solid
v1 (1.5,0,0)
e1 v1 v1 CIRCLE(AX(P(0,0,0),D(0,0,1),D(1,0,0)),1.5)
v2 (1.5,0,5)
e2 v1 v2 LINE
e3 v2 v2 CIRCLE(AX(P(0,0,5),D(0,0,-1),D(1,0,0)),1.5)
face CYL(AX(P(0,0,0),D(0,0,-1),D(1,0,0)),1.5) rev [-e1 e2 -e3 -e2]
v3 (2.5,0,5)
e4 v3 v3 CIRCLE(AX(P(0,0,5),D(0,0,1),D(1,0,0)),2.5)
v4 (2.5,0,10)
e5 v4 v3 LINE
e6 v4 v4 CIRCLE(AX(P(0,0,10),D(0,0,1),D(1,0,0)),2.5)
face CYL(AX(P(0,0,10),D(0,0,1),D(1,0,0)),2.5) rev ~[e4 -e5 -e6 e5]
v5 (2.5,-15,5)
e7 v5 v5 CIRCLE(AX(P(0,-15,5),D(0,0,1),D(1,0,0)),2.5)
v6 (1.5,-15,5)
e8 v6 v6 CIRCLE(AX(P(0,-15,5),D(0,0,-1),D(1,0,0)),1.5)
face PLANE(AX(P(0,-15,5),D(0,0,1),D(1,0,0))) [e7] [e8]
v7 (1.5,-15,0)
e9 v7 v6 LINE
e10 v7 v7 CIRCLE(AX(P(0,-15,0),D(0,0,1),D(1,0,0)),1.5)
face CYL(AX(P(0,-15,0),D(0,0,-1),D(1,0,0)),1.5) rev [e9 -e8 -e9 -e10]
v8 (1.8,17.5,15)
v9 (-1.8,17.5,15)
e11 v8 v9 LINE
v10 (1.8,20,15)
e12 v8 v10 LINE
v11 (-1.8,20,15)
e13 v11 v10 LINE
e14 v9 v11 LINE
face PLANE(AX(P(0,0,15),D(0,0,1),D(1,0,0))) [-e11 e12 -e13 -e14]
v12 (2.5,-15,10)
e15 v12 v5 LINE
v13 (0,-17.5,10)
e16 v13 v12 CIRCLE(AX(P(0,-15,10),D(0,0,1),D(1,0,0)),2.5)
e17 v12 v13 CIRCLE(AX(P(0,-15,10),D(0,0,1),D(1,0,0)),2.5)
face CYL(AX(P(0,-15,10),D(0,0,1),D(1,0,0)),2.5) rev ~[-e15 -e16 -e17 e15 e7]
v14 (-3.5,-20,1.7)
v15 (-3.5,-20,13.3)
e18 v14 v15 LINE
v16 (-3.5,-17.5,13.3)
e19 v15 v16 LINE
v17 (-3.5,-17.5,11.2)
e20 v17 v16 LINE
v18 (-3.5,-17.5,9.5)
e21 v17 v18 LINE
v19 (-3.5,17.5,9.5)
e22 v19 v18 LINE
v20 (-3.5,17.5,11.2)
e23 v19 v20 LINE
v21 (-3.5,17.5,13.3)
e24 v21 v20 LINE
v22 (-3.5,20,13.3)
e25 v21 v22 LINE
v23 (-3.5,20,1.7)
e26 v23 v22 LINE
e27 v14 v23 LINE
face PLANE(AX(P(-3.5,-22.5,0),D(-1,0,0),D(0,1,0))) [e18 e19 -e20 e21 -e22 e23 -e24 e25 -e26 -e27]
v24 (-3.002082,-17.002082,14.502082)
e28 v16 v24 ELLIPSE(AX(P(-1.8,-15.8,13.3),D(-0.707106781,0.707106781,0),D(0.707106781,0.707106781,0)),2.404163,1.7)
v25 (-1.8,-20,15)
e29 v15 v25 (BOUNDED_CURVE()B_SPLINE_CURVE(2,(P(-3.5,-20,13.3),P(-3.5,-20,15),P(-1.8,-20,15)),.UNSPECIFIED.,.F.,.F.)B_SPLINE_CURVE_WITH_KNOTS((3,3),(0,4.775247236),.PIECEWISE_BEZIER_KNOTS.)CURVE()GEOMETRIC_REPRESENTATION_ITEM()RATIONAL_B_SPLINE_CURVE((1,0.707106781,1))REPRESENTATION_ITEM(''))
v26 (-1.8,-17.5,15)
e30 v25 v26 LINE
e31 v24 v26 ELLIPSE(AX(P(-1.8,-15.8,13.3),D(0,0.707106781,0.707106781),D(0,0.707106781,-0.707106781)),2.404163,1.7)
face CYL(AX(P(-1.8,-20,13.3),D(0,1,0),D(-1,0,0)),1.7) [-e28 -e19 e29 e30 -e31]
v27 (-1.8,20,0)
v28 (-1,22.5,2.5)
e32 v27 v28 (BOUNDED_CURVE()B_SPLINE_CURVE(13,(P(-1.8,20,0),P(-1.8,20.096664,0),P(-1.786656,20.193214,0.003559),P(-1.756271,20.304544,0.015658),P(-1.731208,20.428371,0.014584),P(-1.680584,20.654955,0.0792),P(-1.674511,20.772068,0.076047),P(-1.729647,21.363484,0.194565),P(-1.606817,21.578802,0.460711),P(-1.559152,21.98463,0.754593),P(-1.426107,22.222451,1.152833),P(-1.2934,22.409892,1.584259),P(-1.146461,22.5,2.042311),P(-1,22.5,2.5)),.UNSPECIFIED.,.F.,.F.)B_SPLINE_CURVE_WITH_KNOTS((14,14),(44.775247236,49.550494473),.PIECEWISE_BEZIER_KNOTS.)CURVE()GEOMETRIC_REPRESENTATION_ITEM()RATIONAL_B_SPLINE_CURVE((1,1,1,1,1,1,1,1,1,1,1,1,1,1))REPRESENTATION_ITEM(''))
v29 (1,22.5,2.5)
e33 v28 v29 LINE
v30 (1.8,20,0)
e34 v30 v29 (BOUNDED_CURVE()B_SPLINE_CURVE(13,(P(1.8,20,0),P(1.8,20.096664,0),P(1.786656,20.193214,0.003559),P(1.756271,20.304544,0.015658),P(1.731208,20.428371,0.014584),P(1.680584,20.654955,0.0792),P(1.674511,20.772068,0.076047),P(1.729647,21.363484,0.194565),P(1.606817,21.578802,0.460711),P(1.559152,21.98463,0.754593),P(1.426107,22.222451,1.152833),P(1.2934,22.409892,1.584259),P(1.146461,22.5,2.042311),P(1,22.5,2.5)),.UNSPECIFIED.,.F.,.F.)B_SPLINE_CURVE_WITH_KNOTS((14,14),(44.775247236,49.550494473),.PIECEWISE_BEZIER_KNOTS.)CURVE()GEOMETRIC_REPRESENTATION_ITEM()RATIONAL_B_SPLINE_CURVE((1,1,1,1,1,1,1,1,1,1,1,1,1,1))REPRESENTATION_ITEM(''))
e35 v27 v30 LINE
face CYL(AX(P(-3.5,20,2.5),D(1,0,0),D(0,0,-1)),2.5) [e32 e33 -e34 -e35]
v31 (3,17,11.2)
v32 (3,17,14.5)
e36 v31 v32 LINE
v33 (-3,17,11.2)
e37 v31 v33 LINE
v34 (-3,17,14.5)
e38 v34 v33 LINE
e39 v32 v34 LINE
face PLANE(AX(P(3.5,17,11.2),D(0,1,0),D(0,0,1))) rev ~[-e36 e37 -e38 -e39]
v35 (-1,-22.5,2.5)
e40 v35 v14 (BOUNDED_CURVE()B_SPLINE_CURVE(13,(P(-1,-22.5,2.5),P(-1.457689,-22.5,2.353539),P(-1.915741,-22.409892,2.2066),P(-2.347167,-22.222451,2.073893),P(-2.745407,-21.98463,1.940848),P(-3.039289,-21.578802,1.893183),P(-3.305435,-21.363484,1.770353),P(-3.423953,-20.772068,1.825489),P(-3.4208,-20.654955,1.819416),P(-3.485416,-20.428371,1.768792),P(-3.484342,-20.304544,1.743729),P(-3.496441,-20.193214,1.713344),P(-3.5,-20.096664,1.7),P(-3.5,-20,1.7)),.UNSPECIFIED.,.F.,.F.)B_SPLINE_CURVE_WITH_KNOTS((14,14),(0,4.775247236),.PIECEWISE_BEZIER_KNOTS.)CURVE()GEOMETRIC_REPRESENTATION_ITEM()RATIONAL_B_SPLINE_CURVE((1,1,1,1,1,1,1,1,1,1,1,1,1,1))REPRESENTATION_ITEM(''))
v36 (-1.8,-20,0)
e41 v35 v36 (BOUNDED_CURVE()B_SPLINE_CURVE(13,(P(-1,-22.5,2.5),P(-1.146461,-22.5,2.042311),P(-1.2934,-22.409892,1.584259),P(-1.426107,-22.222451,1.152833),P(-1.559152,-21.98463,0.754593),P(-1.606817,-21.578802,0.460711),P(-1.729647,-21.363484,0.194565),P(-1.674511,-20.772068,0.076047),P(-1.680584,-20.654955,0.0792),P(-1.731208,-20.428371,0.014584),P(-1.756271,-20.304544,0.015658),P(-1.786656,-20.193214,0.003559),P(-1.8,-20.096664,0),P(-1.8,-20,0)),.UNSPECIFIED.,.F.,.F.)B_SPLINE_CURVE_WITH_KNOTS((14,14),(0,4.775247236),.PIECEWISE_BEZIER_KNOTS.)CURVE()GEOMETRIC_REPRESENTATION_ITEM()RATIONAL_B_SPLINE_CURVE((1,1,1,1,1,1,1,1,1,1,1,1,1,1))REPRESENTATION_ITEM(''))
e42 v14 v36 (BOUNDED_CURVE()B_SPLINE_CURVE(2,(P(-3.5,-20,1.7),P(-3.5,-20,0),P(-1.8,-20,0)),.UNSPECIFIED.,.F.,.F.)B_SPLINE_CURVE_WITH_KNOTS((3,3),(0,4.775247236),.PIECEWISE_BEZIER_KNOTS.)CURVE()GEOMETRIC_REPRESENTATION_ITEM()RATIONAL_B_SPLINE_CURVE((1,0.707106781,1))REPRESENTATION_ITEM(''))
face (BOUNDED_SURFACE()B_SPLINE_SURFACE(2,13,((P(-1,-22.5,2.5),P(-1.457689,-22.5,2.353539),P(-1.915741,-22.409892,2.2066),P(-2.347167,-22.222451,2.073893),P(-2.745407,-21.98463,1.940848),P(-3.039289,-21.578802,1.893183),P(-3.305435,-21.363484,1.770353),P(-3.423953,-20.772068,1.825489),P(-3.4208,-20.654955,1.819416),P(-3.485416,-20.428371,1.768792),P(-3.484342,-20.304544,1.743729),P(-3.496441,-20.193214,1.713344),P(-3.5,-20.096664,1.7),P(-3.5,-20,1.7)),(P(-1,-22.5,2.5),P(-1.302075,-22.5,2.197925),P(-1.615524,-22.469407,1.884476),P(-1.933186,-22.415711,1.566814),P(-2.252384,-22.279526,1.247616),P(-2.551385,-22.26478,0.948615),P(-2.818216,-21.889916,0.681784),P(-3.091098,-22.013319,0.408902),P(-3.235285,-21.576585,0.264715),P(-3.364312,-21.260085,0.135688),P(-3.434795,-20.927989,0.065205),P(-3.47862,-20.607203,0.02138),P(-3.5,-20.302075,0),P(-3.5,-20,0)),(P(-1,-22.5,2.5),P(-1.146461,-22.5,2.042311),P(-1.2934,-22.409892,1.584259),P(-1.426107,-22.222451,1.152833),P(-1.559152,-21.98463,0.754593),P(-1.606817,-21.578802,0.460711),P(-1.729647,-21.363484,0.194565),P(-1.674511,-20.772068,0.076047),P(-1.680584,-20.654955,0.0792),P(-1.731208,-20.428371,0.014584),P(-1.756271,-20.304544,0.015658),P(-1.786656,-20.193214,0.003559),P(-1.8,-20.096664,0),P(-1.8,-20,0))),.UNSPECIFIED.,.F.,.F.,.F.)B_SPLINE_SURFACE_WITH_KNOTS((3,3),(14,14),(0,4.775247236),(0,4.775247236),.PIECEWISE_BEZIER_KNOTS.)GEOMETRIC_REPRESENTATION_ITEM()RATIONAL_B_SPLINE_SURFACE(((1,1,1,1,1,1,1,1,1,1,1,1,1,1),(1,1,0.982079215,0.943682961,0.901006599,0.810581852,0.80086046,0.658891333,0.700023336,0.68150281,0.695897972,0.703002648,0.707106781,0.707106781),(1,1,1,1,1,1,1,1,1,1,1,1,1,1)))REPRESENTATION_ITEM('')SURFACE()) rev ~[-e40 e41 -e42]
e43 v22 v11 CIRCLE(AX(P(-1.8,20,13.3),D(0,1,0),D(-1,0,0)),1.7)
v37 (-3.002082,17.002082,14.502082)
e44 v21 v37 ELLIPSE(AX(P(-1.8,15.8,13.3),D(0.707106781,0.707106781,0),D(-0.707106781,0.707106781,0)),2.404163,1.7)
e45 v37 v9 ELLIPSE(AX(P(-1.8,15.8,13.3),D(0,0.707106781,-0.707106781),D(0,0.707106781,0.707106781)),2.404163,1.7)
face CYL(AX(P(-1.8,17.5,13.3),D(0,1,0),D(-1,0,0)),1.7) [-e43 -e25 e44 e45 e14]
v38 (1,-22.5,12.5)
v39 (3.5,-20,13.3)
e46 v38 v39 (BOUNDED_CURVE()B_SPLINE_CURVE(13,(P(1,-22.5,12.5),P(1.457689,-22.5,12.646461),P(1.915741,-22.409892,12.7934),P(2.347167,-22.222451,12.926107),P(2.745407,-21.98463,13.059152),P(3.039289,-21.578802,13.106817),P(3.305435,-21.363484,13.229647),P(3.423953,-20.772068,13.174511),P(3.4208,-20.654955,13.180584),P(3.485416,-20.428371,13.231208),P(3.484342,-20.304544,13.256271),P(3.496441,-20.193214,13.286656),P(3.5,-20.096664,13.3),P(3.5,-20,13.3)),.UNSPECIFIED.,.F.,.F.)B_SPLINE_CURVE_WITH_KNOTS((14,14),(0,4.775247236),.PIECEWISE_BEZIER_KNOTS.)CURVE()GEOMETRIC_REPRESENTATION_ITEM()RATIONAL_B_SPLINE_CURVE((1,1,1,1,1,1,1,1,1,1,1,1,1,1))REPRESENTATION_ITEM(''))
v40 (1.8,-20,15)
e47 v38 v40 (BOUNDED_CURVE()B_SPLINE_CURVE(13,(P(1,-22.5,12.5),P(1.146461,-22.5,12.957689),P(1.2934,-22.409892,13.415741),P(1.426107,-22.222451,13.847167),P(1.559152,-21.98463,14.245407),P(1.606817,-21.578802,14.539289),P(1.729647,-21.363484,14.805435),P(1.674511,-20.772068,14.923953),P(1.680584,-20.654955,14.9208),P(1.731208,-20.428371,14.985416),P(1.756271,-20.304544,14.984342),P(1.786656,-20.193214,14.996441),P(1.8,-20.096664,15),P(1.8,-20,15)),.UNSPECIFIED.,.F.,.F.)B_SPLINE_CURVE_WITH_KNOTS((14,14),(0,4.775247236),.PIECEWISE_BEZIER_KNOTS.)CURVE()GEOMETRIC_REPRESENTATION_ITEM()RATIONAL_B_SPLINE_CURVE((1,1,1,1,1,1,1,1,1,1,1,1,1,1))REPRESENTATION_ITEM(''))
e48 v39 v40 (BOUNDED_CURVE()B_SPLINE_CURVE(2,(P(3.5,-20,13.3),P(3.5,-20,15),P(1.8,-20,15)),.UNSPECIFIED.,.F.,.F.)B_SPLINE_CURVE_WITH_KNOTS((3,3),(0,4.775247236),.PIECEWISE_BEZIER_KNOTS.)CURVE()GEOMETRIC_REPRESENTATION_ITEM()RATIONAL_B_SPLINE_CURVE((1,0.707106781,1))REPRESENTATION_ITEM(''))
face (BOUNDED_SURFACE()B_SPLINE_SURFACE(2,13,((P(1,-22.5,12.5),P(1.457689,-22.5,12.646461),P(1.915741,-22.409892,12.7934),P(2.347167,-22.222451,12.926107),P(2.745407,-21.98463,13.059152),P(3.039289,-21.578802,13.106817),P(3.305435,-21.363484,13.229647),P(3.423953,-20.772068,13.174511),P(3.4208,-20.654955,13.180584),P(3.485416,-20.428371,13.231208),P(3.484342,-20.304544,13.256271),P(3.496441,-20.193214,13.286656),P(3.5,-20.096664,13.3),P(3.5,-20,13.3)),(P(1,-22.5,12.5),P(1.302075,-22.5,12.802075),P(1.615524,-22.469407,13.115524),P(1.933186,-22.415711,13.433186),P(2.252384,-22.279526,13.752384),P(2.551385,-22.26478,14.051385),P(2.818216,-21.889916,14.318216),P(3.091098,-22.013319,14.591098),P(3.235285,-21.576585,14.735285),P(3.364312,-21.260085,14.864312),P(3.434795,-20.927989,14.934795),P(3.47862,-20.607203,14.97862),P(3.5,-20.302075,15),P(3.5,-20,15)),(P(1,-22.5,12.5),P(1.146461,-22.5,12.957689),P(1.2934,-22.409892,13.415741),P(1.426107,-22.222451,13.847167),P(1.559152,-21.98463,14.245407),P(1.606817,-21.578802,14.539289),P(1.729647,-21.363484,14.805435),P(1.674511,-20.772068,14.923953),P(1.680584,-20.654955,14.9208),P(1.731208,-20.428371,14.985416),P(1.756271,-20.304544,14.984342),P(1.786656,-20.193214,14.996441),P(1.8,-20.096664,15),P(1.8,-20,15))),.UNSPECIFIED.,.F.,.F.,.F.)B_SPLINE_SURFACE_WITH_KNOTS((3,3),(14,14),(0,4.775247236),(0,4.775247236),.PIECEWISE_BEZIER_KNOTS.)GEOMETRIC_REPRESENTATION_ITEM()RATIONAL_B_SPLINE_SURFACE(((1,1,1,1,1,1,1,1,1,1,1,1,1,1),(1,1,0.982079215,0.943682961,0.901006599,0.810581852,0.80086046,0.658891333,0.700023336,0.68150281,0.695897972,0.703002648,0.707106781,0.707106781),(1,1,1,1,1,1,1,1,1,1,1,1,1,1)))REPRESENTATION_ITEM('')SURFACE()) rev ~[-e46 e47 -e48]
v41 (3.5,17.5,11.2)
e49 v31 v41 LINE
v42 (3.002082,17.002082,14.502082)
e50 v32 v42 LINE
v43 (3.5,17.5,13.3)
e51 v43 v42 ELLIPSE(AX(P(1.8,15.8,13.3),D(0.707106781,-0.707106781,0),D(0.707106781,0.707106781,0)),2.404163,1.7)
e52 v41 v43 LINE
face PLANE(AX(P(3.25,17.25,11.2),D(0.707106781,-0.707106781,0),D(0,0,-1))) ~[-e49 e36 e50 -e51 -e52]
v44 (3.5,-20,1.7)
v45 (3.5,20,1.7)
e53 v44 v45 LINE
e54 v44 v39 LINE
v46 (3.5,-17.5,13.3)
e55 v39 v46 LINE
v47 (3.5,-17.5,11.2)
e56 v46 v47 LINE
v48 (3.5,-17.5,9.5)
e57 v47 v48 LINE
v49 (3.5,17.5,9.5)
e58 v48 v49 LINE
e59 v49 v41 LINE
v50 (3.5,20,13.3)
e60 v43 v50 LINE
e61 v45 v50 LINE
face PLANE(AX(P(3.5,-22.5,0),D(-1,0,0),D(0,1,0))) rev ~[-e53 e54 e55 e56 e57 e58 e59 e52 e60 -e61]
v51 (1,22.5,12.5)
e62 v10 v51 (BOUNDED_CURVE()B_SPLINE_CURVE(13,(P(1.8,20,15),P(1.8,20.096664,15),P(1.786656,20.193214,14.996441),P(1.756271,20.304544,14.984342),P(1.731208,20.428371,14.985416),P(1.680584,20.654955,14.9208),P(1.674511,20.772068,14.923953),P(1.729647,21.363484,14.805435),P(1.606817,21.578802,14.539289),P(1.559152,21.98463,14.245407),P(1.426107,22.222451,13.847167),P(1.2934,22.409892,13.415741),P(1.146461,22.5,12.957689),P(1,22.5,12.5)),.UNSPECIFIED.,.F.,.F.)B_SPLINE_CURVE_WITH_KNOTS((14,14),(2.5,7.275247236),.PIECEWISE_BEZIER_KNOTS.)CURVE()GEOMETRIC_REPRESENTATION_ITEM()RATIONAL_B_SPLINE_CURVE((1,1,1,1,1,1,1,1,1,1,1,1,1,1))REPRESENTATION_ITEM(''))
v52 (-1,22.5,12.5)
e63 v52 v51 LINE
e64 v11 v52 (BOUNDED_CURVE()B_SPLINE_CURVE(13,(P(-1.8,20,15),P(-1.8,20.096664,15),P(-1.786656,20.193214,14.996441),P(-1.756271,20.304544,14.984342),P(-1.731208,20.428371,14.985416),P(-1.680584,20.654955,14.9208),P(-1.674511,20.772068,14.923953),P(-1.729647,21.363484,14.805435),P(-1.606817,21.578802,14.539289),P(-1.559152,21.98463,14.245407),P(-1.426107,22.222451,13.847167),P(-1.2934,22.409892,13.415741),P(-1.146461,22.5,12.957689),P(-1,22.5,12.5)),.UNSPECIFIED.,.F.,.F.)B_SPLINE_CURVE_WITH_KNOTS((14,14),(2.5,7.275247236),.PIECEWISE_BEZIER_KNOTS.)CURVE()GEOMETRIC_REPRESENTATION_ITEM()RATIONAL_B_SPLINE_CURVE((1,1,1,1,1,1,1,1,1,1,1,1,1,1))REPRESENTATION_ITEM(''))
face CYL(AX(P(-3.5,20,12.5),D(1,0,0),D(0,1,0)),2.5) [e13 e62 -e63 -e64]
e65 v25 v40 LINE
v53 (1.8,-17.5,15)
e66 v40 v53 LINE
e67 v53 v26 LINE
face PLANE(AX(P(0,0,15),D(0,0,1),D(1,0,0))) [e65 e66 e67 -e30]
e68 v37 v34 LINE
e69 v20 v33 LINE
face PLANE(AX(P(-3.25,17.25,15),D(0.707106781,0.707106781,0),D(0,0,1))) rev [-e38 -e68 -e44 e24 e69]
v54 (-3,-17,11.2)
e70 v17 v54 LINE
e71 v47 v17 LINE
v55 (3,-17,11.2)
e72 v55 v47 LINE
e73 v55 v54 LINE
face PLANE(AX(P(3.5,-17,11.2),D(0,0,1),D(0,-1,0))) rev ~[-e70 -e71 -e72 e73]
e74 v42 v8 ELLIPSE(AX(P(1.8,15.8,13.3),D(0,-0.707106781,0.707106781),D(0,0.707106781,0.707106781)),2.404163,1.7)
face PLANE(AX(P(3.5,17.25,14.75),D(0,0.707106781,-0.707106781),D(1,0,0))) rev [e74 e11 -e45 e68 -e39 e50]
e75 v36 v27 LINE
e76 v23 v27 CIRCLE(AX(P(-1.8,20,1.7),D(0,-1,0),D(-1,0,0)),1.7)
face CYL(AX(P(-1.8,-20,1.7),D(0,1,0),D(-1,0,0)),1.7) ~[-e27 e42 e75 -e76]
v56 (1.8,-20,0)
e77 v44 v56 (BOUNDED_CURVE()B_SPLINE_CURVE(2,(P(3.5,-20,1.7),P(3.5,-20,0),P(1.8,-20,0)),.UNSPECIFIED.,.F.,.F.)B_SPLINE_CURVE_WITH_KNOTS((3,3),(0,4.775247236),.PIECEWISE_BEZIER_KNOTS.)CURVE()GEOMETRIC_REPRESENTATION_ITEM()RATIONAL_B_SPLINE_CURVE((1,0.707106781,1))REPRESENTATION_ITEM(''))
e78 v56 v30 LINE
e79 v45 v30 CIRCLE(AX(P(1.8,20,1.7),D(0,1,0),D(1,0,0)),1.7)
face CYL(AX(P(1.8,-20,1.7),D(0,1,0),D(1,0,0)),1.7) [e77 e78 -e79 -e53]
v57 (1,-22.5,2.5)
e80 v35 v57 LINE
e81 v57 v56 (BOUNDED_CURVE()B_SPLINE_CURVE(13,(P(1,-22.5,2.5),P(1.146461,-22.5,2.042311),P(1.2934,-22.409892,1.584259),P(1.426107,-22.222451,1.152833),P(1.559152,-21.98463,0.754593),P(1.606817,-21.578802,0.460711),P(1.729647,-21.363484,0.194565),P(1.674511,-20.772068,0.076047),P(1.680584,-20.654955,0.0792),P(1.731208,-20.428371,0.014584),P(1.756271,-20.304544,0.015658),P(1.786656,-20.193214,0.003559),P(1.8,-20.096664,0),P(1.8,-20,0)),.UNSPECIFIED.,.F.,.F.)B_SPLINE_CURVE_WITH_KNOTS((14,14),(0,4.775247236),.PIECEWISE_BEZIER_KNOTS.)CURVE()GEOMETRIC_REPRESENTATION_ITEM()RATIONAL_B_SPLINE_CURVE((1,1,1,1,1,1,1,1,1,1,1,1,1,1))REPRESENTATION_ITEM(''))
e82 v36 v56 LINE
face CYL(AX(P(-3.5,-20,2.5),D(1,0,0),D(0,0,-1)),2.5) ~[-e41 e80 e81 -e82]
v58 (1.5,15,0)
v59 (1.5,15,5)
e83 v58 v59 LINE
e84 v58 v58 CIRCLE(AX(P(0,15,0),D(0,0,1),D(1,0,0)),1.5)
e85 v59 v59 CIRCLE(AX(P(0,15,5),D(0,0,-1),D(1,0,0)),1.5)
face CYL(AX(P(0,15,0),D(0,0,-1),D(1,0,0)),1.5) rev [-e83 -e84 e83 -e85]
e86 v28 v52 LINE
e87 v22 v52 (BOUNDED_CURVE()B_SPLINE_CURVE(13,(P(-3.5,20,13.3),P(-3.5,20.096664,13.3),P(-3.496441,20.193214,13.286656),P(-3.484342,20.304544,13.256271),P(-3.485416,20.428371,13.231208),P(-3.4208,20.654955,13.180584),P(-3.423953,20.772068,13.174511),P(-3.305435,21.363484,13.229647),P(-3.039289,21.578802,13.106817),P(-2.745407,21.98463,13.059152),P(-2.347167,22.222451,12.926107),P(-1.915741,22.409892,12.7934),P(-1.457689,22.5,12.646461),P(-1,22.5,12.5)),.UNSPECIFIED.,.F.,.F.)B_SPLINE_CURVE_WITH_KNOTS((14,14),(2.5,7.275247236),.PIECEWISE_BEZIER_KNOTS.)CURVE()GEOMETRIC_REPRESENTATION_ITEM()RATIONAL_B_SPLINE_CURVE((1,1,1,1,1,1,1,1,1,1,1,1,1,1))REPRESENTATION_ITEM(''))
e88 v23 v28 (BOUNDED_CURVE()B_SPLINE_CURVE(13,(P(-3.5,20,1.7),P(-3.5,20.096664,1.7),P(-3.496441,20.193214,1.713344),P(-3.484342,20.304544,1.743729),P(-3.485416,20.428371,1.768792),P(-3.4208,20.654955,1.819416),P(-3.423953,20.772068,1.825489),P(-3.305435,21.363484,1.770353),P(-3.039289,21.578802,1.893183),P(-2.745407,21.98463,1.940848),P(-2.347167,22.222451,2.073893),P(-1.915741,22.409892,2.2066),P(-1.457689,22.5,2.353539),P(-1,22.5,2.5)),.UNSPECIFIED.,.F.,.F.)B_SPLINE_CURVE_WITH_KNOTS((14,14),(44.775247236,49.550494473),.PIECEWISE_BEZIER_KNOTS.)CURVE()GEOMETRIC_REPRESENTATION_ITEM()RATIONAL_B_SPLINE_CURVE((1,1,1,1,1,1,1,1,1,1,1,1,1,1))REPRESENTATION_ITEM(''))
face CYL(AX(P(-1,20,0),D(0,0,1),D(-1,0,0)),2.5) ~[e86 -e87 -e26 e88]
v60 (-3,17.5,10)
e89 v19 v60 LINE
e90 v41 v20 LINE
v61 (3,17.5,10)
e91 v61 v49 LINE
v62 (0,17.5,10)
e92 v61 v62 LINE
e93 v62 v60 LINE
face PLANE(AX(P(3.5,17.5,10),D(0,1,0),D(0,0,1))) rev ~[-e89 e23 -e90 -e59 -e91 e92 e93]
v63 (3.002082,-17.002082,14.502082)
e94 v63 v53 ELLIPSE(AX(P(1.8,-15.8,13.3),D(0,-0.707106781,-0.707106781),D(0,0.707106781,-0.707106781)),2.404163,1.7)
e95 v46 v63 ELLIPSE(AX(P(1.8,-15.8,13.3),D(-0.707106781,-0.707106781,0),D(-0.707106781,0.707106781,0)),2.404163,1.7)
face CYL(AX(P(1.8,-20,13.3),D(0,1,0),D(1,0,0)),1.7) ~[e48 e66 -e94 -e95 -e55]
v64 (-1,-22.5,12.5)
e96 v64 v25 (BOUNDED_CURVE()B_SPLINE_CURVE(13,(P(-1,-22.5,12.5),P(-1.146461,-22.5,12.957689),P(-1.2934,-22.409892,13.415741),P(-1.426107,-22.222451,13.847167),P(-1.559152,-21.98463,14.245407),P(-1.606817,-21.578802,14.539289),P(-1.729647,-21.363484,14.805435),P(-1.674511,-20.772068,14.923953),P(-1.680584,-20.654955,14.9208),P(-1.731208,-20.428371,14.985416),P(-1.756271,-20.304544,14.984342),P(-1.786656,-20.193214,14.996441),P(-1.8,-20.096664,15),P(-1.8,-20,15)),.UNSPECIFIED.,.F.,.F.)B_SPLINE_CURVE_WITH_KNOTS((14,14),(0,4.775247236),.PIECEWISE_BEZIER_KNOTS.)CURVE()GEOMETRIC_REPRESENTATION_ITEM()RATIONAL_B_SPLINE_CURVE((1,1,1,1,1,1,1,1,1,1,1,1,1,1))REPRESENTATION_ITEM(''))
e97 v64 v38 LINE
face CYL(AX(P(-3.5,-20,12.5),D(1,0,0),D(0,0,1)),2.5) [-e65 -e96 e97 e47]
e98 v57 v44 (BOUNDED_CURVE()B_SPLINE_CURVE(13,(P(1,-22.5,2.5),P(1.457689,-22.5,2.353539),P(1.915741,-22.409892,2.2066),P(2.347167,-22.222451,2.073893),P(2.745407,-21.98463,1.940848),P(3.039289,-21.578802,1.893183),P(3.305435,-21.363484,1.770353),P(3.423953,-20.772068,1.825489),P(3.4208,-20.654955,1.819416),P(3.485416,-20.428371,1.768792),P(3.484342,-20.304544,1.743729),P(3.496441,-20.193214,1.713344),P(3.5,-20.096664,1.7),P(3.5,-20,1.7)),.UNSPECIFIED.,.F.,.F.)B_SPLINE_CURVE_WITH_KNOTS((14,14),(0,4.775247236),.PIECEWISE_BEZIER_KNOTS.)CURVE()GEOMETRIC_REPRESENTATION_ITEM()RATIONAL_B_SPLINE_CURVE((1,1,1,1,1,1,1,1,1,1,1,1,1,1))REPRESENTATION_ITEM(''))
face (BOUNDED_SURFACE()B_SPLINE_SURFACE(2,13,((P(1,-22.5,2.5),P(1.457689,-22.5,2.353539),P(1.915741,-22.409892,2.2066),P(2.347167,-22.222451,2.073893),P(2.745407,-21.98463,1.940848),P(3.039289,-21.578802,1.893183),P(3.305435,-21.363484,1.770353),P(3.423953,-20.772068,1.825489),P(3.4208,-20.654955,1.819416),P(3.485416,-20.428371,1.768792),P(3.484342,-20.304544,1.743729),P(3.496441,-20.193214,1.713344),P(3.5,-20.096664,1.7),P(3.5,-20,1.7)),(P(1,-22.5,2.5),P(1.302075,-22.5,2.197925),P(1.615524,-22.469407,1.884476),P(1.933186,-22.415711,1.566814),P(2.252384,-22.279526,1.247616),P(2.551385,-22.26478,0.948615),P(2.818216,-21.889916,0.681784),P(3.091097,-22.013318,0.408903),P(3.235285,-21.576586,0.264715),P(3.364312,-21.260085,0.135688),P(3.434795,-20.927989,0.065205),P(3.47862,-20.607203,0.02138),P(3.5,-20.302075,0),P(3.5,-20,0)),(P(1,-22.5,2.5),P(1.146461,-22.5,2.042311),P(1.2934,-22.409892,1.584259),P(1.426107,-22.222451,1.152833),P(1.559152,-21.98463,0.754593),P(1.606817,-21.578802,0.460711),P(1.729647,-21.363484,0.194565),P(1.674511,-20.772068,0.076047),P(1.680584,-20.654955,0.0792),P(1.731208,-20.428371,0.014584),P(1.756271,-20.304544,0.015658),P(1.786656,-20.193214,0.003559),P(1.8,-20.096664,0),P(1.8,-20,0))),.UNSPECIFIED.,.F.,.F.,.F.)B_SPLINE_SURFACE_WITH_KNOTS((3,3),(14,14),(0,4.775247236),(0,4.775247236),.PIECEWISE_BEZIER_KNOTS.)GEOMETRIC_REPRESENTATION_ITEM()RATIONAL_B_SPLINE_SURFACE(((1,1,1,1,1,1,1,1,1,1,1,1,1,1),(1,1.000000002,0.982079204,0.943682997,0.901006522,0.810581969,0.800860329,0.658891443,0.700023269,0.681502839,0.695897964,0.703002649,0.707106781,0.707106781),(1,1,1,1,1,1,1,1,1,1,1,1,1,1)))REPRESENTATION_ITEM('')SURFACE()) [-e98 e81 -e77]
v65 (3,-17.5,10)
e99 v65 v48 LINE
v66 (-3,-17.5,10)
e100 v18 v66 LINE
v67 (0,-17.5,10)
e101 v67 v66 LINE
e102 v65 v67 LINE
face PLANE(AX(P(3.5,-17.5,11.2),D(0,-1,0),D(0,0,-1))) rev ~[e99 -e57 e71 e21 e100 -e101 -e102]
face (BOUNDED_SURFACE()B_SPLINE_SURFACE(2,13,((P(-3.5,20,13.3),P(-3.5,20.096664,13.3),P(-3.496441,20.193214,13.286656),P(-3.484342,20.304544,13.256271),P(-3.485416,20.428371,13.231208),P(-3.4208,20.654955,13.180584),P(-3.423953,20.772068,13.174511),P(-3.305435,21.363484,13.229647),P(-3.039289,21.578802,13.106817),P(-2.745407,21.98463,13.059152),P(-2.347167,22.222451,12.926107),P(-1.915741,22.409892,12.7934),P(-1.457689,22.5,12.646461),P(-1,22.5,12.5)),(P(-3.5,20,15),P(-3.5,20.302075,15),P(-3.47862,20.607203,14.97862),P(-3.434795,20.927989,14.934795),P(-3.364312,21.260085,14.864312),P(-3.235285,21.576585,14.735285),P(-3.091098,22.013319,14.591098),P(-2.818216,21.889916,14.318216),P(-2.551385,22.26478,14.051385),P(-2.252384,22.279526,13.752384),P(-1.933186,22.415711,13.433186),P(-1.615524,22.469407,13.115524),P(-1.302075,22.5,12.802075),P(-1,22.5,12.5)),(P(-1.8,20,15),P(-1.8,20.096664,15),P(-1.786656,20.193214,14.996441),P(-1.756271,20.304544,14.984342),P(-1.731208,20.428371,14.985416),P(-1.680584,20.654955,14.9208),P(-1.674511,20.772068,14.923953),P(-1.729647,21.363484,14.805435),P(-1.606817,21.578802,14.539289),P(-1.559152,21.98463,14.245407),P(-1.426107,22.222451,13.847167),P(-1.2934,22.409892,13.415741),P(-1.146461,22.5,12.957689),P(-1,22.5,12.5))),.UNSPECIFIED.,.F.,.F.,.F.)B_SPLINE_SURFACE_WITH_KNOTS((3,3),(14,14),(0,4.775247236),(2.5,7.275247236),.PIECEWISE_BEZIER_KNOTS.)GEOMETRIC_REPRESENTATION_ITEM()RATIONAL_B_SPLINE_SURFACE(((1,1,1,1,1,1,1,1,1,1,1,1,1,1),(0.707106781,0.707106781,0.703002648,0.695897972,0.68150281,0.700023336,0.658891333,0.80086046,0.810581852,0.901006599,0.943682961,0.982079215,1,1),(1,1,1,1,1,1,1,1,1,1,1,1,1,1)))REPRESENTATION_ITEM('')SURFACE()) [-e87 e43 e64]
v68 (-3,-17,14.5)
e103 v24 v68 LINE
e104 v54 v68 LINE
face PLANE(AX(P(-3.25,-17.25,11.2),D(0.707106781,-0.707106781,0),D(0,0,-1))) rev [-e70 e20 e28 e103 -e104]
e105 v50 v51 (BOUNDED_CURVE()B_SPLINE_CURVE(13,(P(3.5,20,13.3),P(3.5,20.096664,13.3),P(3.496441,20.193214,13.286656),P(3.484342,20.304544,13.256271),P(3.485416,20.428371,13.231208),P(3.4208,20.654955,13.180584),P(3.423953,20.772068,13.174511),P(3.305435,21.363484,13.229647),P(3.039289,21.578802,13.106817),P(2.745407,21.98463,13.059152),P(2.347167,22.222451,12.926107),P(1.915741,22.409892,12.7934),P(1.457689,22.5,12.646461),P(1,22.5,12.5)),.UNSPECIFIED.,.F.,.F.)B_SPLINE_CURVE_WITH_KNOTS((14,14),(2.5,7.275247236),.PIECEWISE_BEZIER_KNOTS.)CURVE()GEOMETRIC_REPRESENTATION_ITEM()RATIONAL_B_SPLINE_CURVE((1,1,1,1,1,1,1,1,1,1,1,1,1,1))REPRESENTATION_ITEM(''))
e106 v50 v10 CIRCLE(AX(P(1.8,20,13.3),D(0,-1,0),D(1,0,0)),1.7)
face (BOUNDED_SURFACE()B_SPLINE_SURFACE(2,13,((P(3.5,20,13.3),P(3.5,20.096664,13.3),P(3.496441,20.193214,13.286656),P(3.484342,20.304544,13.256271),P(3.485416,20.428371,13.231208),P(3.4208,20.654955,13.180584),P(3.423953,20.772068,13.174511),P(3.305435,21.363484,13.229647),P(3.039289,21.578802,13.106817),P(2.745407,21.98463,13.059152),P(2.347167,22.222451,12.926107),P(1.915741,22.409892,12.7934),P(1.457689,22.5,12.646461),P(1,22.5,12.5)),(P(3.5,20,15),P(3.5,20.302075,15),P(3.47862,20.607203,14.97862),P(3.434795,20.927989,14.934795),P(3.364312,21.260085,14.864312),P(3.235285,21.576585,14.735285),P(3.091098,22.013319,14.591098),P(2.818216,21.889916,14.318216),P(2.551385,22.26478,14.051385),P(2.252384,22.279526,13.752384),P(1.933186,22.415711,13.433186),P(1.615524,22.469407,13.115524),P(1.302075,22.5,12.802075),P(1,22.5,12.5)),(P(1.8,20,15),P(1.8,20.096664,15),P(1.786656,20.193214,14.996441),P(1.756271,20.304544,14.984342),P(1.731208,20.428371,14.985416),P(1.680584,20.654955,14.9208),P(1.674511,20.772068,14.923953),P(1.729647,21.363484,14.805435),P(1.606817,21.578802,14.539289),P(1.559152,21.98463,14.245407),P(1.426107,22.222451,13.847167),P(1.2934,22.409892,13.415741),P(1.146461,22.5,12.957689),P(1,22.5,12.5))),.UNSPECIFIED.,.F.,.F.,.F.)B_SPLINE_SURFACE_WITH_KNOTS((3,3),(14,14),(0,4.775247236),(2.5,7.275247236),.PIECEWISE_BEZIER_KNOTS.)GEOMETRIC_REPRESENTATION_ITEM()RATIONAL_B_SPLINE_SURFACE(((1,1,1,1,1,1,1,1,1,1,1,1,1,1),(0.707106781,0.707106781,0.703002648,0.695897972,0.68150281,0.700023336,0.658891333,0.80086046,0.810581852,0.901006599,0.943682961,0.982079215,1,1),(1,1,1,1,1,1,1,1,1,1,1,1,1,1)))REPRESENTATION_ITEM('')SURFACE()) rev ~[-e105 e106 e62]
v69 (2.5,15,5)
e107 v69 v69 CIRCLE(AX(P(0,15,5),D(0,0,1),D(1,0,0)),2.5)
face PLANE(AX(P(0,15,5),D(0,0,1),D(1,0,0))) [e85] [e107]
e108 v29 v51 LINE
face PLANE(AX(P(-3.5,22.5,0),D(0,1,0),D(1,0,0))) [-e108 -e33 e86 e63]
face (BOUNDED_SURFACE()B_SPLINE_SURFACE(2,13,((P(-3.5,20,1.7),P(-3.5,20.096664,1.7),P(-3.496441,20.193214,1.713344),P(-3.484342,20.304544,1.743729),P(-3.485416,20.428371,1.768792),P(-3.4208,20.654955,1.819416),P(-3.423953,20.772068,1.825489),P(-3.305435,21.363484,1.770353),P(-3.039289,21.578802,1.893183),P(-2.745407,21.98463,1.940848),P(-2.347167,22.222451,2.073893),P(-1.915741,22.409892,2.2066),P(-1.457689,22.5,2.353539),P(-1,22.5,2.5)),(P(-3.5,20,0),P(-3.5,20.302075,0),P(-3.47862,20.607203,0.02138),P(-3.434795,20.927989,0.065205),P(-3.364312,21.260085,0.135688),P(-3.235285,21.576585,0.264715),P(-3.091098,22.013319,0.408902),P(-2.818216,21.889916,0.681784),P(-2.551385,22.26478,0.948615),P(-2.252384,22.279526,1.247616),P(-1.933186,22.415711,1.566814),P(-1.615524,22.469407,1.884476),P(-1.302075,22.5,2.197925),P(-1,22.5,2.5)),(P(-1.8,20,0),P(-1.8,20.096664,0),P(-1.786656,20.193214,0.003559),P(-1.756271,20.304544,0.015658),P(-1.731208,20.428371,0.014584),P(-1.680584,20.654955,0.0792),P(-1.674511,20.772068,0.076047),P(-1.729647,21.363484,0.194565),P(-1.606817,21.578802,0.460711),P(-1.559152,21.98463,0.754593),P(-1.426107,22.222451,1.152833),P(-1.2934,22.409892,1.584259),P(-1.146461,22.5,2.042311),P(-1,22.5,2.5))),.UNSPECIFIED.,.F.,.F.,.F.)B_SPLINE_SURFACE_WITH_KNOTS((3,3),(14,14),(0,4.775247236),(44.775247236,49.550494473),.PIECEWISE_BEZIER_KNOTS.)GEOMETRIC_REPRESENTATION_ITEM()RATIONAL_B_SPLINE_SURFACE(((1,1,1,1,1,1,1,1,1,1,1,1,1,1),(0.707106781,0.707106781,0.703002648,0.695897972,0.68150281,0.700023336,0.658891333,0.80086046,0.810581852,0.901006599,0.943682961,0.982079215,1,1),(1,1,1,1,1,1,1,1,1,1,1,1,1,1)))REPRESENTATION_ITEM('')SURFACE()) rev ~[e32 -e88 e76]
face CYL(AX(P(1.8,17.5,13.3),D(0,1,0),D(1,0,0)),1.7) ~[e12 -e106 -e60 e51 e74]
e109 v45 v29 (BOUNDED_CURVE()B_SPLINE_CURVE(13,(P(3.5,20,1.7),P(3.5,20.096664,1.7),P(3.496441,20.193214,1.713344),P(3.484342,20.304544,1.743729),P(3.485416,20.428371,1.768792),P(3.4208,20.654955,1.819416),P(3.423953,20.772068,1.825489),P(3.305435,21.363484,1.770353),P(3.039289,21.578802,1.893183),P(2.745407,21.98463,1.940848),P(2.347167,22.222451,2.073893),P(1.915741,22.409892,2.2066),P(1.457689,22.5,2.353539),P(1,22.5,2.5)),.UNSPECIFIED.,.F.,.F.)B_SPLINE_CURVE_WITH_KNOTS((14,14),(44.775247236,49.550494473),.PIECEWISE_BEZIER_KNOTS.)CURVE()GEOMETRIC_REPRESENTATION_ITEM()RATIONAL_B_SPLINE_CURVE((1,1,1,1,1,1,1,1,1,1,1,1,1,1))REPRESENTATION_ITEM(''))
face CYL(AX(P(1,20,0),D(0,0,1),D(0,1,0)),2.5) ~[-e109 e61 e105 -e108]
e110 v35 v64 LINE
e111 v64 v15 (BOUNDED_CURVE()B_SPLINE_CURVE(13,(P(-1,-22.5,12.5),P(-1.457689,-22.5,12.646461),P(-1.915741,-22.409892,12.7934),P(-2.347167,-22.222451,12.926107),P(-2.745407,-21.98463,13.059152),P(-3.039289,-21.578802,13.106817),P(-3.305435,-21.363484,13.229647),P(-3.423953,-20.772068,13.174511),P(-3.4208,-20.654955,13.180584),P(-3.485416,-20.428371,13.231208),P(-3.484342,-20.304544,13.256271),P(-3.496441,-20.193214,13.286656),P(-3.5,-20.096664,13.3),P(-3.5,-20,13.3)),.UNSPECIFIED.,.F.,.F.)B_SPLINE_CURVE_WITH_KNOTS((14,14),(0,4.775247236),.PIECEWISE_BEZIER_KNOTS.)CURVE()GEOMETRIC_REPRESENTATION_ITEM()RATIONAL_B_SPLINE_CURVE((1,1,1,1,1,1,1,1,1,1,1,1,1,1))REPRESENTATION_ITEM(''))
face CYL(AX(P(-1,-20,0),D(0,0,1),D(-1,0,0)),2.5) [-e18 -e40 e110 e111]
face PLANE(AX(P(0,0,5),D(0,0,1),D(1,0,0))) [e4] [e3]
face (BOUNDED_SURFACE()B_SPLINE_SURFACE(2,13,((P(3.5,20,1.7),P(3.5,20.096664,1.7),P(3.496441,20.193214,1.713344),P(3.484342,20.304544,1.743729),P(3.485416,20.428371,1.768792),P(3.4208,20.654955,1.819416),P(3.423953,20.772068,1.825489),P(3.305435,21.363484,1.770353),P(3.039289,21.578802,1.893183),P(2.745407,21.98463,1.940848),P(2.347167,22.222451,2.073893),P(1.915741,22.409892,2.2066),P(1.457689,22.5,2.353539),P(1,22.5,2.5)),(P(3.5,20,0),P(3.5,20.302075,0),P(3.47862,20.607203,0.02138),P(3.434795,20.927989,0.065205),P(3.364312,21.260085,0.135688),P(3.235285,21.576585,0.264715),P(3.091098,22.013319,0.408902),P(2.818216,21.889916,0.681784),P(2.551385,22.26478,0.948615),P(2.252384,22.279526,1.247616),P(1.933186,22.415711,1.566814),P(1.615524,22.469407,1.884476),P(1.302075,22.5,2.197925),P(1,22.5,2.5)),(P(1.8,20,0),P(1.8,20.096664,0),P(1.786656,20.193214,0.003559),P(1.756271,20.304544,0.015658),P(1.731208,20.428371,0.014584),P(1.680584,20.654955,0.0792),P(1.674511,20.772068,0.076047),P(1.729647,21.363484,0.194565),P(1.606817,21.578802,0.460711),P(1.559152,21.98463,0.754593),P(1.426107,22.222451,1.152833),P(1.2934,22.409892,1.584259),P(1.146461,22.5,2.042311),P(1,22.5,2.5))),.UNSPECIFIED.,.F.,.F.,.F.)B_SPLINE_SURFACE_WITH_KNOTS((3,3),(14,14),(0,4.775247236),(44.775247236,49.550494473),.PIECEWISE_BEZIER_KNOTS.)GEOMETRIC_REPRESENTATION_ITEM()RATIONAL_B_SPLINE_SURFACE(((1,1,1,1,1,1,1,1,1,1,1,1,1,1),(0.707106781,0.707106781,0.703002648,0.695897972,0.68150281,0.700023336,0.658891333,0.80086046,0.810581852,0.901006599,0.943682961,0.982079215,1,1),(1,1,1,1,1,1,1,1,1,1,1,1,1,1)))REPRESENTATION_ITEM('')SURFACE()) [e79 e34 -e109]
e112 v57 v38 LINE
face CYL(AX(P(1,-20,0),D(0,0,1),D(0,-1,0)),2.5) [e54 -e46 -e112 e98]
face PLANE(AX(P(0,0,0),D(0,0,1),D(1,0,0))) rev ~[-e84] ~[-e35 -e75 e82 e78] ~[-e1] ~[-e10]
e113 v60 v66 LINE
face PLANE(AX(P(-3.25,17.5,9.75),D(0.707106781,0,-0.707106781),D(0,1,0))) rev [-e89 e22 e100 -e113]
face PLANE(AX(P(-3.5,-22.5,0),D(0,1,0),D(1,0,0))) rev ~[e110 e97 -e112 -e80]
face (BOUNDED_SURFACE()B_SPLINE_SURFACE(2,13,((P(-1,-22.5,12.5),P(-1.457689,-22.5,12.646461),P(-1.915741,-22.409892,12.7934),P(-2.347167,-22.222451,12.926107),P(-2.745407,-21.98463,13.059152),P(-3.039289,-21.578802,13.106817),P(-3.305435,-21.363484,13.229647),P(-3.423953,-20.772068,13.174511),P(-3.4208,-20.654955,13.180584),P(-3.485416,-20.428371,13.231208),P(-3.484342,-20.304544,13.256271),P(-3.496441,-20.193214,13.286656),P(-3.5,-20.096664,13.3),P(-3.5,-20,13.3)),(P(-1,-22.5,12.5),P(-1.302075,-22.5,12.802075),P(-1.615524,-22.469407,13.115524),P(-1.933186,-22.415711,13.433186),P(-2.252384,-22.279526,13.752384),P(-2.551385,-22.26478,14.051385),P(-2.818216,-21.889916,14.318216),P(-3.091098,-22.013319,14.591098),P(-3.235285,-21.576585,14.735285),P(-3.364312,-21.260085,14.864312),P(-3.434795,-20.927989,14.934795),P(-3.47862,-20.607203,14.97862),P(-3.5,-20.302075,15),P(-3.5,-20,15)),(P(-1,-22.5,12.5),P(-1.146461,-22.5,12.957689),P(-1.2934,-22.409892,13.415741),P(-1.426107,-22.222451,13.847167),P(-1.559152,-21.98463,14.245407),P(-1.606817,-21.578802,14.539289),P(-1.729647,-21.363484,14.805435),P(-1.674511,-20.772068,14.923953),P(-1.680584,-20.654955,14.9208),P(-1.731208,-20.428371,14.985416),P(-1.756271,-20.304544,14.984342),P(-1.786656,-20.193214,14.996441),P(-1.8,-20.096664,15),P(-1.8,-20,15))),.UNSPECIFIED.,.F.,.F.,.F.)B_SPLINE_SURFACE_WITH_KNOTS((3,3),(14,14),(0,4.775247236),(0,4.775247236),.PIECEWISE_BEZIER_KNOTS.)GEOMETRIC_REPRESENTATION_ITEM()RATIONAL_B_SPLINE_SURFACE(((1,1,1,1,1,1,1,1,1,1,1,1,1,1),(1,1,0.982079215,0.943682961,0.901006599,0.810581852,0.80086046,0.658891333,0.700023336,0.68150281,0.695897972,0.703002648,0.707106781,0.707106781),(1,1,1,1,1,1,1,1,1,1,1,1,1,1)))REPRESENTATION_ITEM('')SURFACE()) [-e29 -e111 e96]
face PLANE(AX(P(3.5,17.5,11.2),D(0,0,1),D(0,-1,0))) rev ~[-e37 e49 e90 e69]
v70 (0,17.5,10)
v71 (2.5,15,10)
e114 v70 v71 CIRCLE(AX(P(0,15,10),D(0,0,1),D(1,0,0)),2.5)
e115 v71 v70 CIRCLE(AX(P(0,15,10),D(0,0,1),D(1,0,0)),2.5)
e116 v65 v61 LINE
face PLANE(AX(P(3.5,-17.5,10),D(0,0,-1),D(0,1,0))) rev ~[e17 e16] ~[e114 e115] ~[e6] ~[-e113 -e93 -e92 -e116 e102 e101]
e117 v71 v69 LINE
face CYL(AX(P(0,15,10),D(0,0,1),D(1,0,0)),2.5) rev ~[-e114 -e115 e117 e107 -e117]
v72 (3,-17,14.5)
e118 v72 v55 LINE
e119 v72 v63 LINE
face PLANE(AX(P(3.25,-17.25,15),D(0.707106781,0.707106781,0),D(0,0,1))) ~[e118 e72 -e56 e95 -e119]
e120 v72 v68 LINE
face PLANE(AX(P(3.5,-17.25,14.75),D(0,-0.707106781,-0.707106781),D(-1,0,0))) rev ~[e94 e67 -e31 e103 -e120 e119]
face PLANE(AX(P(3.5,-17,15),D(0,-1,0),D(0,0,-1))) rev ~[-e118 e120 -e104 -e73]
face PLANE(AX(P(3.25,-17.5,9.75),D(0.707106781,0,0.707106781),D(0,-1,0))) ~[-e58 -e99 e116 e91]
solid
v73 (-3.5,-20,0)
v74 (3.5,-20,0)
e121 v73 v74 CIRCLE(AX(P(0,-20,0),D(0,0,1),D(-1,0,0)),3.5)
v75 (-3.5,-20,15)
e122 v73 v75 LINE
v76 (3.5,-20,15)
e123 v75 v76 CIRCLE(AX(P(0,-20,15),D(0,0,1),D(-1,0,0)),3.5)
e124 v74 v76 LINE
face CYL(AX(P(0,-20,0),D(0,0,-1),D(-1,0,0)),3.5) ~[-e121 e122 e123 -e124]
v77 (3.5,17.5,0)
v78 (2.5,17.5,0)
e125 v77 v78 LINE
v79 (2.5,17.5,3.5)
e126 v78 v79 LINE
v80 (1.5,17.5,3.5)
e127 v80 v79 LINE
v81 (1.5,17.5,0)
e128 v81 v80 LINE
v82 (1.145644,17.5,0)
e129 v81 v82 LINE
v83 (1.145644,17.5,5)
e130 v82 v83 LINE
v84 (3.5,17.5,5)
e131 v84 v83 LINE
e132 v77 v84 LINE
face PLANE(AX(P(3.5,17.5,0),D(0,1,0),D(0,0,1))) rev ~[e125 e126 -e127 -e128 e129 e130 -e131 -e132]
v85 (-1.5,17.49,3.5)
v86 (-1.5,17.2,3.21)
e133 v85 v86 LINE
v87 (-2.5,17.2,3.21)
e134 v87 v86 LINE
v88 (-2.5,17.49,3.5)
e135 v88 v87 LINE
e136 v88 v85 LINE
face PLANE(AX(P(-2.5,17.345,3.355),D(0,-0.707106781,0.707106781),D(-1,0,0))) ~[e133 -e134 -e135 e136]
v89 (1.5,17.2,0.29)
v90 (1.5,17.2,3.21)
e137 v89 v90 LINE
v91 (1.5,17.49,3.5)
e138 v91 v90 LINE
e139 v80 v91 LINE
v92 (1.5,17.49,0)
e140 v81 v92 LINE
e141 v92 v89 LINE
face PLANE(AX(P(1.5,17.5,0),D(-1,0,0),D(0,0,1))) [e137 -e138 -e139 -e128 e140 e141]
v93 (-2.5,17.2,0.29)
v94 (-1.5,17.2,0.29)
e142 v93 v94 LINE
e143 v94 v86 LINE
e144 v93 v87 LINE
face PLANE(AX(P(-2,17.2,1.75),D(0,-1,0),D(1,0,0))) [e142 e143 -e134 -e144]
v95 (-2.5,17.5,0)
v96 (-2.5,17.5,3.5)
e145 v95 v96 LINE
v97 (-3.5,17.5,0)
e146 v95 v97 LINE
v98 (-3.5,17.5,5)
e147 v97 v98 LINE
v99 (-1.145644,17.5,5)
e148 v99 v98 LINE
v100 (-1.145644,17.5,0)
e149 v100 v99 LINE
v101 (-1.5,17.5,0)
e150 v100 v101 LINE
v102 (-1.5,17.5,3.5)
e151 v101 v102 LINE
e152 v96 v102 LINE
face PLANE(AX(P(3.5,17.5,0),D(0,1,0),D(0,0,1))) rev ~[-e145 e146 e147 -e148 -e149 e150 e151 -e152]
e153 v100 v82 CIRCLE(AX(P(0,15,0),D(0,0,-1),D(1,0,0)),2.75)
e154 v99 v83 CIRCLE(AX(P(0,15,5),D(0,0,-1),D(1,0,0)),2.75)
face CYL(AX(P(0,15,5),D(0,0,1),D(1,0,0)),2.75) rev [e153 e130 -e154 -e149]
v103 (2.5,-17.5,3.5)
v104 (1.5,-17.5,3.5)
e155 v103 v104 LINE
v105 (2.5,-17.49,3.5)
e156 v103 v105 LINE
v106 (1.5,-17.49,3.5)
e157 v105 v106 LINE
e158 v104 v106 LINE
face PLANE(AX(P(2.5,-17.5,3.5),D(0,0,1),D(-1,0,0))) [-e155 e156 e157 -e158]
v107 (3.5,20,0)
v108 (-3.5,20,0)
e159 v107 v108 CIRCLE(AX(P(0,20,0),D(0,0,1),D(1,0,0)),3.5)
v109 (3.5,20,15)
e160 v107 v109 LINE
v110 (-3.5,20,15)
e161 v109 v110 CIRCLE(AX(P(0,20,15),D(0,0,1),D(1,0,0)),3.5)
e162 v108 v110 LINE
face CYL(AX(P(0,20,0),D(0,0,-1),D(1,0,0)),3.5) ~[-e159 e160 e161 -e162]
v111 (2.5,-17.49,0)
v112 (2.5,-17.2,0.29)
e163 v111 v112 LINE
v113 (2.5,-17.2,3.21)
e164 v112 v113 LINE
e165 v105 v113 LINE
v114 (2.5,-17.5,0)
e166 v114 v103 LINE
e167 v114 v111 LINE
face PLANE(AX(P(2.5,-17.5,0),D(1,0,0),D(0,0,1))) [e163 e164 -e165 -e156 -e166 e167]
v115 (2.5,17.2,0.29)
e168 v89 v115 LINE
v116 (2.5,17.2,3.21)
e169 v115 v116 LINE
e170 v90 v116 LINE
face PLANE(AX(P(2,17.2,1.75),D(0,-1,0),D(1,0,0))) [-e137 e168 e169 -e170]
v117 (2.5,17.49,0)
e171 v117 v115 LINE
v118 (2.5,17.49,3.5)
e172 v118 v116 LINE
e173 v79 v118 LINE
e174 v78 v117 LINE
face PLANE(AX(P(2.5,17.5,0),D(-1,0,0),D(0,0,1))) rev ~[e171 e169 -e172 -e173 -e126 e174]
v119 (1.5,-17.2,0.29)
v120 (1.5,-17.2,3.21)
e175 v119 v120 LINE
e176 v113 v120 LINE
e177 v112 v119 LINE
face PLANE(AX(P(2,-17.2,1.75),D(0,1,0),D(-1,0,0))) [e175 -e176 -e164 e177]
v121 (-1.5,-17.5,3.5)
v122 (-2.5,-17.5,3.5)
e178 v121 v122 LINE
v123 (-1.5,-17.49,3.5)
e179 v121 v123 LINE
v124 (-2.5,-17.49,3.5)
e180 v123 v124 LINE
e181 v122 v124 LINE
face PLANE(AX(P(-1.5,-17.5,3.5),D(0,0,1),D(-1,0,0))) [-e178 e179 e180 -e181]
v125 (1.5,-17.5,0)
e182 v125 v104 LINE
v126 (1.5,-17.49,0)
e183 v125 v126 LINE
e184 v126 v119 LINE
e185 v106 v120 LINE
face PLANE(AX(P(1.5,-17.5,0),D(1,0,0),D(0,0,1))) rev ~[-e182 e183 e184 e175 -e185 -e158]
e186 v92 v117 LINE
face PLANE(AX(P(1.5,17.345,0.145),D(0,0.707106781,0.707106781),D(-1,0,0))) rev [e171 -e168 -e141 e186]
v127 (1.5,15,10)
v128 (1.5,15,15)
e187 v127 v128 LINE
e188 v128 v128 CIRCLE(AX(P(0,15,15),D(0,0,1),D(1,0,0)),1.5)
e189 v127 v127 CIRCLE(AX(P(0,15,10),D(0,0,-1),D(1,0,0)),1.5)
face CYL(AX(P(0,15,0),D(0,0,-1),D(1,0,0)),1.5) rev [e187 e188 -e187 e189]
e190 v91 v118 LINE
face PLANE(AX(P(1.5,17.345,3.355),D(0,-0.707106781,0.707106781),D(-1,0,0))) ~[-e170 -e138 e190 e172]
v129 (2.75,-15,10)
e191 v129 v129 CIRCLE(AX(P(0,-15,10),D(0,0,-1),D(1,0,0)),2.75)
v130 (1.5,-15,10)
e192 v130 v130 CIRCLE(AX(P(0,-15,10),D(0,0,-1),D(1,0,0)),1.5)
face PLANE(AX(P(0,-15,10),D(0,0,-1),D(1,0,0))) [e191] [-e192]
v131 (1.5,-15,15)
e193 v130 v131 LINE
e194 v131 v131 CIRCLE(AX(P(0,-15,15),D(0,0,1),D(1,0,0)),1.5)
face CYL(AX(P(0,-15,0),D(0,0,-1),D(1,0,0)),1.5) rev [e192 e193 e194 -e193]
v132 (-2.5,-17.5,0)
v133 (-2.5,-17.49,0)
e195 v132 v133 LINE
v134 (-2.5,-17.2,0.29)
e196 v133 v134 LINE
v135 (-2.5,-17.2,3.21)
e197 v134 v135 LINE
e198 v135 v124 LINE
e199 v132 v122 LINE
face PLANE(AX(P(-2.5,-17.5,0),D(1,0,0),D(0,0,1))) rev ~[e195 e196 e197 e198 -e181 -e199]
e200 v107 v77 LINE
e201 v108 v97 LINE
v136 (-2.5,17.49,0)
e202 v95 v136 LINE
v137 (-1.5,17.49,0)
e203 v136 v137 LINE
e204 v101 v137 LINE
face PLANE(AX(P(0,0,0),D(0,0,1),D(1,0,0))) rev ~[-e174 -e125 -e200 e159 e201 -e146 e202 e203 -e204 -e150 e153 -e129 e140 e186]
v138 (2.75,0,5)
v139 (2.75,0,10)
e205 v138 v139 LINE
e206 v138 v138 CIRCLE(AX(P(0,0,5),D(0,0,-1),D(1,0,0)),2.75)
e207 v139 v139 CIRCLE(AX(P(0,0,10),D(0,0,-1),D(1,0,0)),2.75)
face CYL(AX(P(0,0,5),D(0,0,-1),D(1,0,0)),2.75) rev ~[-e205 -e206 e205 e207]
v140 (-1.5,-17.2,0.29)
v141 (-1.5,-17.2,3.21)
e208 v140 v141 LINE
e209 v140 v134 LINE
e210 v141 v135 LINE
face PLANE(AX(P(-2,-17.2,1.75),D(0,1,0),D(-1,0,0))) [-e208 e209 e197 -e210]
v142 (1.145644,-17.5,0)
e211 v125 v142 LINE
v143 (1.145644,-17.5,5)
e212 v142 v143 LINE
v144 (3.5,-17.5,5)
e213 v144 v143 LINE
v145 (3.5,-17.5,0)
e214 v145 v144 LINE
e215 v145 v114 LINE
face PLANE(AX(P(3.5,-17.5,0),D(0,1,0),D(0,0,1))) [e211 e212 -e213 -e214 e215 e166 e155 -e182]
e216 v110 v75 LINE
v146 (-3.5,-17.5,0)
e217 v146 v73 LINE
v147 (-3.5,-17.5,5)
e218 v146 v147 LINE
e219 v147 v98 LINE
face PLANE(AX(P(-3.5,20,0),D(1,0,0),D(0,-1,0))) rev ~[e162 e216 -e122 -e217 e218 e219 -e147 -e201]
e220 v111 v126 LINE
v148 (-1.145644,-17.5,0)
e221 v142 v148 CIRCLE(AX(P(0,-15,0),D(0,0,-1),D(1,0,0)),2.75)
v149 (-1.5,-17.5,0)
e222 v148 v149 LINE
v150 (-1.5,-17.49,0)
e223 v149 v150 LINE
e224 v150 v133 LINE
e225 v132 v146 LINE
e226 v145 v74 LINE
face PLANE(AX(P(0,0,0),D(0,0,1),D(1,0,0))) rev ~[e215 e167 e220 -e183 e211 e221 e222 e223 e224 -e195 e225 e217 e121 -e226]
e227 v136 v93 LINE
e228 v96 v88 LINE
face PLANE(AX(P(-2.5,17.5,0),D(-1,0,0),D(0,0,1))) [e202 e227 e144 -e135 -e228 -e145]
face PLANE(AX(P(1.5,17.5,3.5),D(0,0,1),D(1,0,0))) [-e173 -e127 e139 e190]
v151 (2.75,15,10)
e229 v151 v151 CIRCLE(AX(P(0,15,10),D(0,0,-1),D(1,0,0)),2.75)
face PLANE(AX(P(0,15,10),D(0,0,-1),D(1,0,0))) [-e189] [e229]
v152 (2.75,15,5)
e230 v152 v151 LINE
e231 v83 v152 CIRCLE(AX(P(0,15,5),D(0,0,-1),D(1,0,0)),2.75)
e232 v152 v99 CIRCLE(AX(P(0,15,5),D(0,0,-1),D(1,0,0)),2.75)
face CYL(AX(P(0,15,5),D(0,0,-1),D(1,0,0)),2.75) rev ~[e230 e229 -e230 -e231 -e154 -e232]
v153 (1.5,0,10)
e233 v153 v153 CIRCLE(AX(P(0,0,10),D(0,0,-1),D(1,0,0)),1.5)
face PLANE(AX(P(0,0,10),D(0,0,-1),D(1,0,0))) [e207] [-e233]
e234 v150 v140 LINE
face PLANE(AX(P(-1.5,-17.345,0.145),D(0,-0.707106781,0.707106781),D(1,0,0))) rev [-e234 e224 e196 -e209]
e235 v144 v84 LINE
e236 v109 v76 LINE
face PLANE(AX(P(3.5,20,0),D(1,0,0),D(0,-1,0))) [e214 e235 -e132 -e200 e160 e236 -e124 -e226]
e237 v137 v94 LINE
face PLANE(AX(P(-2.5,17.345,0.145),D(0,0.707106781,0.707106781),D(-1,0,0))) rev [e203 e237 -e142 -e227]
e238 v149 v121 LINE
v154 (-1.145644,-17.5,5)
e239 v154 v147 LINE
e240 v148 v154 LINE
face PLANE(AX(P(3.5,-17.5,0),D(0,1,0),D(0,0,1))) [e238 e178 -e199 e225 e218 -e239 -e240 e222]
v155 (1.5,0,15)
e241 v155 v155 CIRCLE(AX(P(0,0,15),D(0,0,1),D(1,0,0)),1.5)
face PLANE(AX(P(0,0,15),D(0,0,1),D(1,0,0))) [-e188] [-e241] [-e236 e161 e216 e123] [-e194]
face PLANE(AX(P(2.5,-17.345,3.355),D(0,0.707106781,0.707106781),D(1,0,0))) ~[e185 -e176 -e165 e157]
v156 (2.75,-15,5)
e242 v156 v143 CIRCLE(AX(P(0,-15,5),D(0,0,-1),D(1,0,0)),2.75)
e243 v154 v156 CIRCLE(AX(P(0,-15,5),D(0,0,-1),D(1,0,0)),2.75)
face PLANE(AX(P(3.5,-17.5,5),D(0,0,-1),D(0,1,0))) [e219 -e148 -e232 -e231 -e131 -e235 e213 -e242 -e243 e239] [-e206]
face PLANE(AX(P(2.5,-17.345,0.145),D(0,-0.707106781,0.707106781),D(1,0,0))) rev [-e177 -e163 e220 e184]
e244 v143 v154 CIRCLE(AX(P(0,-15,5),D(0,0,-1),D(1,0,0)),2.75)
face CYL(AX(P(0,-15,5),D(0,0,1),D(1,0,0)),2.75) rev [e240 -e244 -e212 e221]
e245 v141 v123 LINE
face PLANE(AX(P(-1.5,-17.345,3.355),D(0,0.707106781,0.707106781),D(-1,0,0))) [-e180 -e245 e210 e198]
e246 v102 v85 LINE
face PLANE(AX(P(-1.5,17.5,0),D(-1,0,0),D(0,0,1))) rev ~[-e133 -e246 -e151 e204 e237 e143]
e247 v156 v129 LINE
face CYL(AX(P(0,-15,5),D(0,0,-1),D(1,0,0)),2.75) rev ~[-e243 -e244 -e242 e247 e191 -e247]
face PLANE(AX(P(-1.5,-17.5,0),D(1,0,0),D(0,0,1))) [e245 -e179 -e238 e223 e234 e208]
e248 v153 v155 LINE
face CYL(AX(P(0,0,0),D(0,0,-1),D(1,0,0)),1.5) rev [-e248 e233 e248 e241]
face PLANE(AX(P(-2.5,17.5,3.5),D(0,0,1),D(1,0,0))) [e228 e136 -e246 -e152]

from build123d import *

# Parameters (mm, degrees)
SKETCH_W             = 7
SKETCH_H             = 45
SKETCH_R             = 1.5
PAD_DEPTH            = 15
POCKET_DEPTH         = 7.001
FILLET_R             = 2.5
CHAMFER_SIZE         = 0.5
FILLET001_R          = 1.7
SKETCH002_R          = 2.5
POCKET001_DEPTH      = 5
SKETCH003_R          = 1.5
PAD001_DEPTH         = 15
SKETCH004_W          = 35
SKETCH004_H          = 5
POCKET002_DEPTH      = 7.001
SKETCH005_R          = 2.75
POCKET003_DEPTH      = 5
POCKET003_DEPTH_BACK = -5
SKETCH006_W          = 1
SKETCH006_H          = 3.5
PAD002_DEPTH         = 0.3
SKETCH007_W          = 1
SKETCH007_H          = 3.5
PAD003_DEPTH         = 0.3
CHAMFER001_SIZE      = 0.29


with BuildPart() as body:
    # Sketch → Pad (new body)
    with BuildSketch(Plane.XY):
        Rectangle(SKETCH_W, SKETCH_H)
        Circle(SKETCH_R, mode=Mode.SUBTRACT)
        with Locations((0, 15)):
            Circle(SKETCH_R, mode=Mode.SUBTRACT)
        with Locations((0, -15)):
            Circle(SKETCH_R, mode=Mode.SUBTRACT)
    extrude(amount=PAD_DEPTH)

    # Sketch001 (on Face3 of Pad) → Pocket (cut, through all)
    with BuildSketch(Plane.YZ.offset(3.5)):
        Polygon((-17.5, 10), (17.5, 10), (17.5, 11.2), (17, 11.2), (17, 15), (-17, 15), (-17, 11.2), (-17.5, 11.2), align=None)
    extrude(amount=-POCKET_DEPTH, mode=Mode.SUBTRACT)

    # Fillet
    fillet_edges = [body.edges().sort_by_distance(p)[0] for p in [
        (3.5, 22.5, 7.5),
        (-3.5, 22.5, 7.5),
        (0, 22.5, 0),
        (0, 22.5, 15),
        (-3.5, -22.5, 7.5),
        (3.5, -22.5, 7.5),
        (0, -22.5, 0),
        (0, -22.5, 15),
    ]]
    fillet(fillet_edges, radius=FILLET_R)

    # Chamfer
    chamfer_edges = [body.edges().sort_by_distance(p)[0] for p in [
        (-3.5, -17, 13.1),
        (3.5, -17, 13.1),
        (0, -17, 15),
        (3.5, 17, 13.1),
        (0, 17, 15),
        (-3.5, 17, 13.1),
        (3.5, 0, 10),
        (-3.5, 0, 10),
    ]]
    chamfer(chamfer_edges, length=CHAMFER_SIZE)

    # Fillet001
    fillet001_edges = [body.edges().sort_by_distance(p)[0] for p in [
        (-3.5, 0, 0),
        (3.5, 0, 0),
        (-3.5, -18.75, 15),
        (3.5, -18.75, 15),
        (-3.5, 18.75, 15),
        (3.5, 18.75, 15),
    ]]
    fillet(fillet001_edges, radius=FILLET001_R)

    # Sketch002 (on Face19 of Chamfer) → Pocket001 (cut)
    with BuildSketch(Plane.XY.offset(10)):
        with Locations((0, -15)):
            Circle(SKETCH002_R)
        Circle(SKETCH002_R)
        with Locations((0, 15)):
            Circle(SKETCH002_R)
    extrude(amount=-POCKET001_DEPTH, mode=Mode.SUBTRACT)


with BuildPart() as body001:
    # Sketch003 → Pad001 (new body)
    with BuildSketch(Plane.XY):
        with BuildLine():
            ThreePointArc((3.5, 20), (0, 23.5), (-3.5, 20))
            Line((-3.5, 20), (-3.5, -20))
            ThreePointArc((-3.5, -20), (0, -23.5), (3.5, -20))
            Line((3.5, 20), (3.5, -20))
        make_face()
        with Locations((0, 15)):
            Circle(SKETCH003_R, mode=Mode.SUBTRACT)
        Circle(SKETCH003_R, mode=Mode.SUBTRACT)
        with Locations((0, -15)):
            Circle(SKETCH003_R, mode=Mode.SUBTRACT)
    extrude(amount=PAD001_DEPTH)

    # Sketch004 (on Face4 of Pad001) → Pocket002 (cut, through all)
    with BuildSketch(Plane.YZ.offset(3.5)):
        with Locations((0, 2.5)):
            Rectangle(SKETCH004_W, SKETCH004_H)
    extrude(amount=-POCKET002_DEPTH, mode=Mode.SUBTRACT)

    # Sketch005 (on Face7 of Pocket002) → Pocket003 (cut, two sides)
    with BuildSketch(Plane(origin=(0, 0, 5), x_dir=(1, 0, 0), z_dir=(0, 0, -1))) as pocket003_sk:
        with Locations((0, 15)):
            Circle(SKETCH005_R)
        Circle(SKETCH005_R)
        with Locations((0, -15)):
            Circle(SKETCH005_R)
    extrude(amount=-POCKET003_DEPTH, mode=Mode.SUBTRACT)
    extrude(pocket003_sk.sketch, amount=-POCKET003_DEPTH_BACK, mode=Mode.SUBTRACT)

    # Sketch006 (on Face12 of Pocket003) → Pad002 (join)
    with BuildSketch(Plane(origin=(0, -17.5, 0), x_dir=(-1, 0, 0), z_dir=(0, 1, 0))):
        with Locations((-2, 1.75)):
            Rectangle(SKETCH006_W, SKETCH006_H)
        with Locations((2, 1.75)):
            Rectangle(SKETCH006_W, SKETCH006_H)
    extrude(amount=PAD002_DEPTH)

    # Sketch007 (on Face10 of Pad002) → Pad003 (join)
    with BuildSketch(Plane.XZ.offset(-17.5)):
        with Locations((-2, 1.75)):
            Rectangle(SKETCH007_W, SKETCH007_H)
        with Locations((2, 1.75)):
            Rectangle(SKETCH007_W, SKETCH007_H)
    extrude(amount=PAD003_DEPTH)

    # Chamfer001
    chamfer001_edges = [body001.edges().sort_by_distance(p)[0] for p in [
        (-2, 17.2, 0),
        (-2, 17.2, 3.5),
        (2, 17.2, 3.5),
        (2, 17.2, 0),
        (-2, -17.2, 0),
        (-2, -17.2, 3.5),
        (2, -17.2, 3.5),
        (2, -17.2, 0),
    ]]
    chamfer(chamfer001_edges, length=CHAMFER001_SIZE)


solid = Compound([body.part, body001.part])
